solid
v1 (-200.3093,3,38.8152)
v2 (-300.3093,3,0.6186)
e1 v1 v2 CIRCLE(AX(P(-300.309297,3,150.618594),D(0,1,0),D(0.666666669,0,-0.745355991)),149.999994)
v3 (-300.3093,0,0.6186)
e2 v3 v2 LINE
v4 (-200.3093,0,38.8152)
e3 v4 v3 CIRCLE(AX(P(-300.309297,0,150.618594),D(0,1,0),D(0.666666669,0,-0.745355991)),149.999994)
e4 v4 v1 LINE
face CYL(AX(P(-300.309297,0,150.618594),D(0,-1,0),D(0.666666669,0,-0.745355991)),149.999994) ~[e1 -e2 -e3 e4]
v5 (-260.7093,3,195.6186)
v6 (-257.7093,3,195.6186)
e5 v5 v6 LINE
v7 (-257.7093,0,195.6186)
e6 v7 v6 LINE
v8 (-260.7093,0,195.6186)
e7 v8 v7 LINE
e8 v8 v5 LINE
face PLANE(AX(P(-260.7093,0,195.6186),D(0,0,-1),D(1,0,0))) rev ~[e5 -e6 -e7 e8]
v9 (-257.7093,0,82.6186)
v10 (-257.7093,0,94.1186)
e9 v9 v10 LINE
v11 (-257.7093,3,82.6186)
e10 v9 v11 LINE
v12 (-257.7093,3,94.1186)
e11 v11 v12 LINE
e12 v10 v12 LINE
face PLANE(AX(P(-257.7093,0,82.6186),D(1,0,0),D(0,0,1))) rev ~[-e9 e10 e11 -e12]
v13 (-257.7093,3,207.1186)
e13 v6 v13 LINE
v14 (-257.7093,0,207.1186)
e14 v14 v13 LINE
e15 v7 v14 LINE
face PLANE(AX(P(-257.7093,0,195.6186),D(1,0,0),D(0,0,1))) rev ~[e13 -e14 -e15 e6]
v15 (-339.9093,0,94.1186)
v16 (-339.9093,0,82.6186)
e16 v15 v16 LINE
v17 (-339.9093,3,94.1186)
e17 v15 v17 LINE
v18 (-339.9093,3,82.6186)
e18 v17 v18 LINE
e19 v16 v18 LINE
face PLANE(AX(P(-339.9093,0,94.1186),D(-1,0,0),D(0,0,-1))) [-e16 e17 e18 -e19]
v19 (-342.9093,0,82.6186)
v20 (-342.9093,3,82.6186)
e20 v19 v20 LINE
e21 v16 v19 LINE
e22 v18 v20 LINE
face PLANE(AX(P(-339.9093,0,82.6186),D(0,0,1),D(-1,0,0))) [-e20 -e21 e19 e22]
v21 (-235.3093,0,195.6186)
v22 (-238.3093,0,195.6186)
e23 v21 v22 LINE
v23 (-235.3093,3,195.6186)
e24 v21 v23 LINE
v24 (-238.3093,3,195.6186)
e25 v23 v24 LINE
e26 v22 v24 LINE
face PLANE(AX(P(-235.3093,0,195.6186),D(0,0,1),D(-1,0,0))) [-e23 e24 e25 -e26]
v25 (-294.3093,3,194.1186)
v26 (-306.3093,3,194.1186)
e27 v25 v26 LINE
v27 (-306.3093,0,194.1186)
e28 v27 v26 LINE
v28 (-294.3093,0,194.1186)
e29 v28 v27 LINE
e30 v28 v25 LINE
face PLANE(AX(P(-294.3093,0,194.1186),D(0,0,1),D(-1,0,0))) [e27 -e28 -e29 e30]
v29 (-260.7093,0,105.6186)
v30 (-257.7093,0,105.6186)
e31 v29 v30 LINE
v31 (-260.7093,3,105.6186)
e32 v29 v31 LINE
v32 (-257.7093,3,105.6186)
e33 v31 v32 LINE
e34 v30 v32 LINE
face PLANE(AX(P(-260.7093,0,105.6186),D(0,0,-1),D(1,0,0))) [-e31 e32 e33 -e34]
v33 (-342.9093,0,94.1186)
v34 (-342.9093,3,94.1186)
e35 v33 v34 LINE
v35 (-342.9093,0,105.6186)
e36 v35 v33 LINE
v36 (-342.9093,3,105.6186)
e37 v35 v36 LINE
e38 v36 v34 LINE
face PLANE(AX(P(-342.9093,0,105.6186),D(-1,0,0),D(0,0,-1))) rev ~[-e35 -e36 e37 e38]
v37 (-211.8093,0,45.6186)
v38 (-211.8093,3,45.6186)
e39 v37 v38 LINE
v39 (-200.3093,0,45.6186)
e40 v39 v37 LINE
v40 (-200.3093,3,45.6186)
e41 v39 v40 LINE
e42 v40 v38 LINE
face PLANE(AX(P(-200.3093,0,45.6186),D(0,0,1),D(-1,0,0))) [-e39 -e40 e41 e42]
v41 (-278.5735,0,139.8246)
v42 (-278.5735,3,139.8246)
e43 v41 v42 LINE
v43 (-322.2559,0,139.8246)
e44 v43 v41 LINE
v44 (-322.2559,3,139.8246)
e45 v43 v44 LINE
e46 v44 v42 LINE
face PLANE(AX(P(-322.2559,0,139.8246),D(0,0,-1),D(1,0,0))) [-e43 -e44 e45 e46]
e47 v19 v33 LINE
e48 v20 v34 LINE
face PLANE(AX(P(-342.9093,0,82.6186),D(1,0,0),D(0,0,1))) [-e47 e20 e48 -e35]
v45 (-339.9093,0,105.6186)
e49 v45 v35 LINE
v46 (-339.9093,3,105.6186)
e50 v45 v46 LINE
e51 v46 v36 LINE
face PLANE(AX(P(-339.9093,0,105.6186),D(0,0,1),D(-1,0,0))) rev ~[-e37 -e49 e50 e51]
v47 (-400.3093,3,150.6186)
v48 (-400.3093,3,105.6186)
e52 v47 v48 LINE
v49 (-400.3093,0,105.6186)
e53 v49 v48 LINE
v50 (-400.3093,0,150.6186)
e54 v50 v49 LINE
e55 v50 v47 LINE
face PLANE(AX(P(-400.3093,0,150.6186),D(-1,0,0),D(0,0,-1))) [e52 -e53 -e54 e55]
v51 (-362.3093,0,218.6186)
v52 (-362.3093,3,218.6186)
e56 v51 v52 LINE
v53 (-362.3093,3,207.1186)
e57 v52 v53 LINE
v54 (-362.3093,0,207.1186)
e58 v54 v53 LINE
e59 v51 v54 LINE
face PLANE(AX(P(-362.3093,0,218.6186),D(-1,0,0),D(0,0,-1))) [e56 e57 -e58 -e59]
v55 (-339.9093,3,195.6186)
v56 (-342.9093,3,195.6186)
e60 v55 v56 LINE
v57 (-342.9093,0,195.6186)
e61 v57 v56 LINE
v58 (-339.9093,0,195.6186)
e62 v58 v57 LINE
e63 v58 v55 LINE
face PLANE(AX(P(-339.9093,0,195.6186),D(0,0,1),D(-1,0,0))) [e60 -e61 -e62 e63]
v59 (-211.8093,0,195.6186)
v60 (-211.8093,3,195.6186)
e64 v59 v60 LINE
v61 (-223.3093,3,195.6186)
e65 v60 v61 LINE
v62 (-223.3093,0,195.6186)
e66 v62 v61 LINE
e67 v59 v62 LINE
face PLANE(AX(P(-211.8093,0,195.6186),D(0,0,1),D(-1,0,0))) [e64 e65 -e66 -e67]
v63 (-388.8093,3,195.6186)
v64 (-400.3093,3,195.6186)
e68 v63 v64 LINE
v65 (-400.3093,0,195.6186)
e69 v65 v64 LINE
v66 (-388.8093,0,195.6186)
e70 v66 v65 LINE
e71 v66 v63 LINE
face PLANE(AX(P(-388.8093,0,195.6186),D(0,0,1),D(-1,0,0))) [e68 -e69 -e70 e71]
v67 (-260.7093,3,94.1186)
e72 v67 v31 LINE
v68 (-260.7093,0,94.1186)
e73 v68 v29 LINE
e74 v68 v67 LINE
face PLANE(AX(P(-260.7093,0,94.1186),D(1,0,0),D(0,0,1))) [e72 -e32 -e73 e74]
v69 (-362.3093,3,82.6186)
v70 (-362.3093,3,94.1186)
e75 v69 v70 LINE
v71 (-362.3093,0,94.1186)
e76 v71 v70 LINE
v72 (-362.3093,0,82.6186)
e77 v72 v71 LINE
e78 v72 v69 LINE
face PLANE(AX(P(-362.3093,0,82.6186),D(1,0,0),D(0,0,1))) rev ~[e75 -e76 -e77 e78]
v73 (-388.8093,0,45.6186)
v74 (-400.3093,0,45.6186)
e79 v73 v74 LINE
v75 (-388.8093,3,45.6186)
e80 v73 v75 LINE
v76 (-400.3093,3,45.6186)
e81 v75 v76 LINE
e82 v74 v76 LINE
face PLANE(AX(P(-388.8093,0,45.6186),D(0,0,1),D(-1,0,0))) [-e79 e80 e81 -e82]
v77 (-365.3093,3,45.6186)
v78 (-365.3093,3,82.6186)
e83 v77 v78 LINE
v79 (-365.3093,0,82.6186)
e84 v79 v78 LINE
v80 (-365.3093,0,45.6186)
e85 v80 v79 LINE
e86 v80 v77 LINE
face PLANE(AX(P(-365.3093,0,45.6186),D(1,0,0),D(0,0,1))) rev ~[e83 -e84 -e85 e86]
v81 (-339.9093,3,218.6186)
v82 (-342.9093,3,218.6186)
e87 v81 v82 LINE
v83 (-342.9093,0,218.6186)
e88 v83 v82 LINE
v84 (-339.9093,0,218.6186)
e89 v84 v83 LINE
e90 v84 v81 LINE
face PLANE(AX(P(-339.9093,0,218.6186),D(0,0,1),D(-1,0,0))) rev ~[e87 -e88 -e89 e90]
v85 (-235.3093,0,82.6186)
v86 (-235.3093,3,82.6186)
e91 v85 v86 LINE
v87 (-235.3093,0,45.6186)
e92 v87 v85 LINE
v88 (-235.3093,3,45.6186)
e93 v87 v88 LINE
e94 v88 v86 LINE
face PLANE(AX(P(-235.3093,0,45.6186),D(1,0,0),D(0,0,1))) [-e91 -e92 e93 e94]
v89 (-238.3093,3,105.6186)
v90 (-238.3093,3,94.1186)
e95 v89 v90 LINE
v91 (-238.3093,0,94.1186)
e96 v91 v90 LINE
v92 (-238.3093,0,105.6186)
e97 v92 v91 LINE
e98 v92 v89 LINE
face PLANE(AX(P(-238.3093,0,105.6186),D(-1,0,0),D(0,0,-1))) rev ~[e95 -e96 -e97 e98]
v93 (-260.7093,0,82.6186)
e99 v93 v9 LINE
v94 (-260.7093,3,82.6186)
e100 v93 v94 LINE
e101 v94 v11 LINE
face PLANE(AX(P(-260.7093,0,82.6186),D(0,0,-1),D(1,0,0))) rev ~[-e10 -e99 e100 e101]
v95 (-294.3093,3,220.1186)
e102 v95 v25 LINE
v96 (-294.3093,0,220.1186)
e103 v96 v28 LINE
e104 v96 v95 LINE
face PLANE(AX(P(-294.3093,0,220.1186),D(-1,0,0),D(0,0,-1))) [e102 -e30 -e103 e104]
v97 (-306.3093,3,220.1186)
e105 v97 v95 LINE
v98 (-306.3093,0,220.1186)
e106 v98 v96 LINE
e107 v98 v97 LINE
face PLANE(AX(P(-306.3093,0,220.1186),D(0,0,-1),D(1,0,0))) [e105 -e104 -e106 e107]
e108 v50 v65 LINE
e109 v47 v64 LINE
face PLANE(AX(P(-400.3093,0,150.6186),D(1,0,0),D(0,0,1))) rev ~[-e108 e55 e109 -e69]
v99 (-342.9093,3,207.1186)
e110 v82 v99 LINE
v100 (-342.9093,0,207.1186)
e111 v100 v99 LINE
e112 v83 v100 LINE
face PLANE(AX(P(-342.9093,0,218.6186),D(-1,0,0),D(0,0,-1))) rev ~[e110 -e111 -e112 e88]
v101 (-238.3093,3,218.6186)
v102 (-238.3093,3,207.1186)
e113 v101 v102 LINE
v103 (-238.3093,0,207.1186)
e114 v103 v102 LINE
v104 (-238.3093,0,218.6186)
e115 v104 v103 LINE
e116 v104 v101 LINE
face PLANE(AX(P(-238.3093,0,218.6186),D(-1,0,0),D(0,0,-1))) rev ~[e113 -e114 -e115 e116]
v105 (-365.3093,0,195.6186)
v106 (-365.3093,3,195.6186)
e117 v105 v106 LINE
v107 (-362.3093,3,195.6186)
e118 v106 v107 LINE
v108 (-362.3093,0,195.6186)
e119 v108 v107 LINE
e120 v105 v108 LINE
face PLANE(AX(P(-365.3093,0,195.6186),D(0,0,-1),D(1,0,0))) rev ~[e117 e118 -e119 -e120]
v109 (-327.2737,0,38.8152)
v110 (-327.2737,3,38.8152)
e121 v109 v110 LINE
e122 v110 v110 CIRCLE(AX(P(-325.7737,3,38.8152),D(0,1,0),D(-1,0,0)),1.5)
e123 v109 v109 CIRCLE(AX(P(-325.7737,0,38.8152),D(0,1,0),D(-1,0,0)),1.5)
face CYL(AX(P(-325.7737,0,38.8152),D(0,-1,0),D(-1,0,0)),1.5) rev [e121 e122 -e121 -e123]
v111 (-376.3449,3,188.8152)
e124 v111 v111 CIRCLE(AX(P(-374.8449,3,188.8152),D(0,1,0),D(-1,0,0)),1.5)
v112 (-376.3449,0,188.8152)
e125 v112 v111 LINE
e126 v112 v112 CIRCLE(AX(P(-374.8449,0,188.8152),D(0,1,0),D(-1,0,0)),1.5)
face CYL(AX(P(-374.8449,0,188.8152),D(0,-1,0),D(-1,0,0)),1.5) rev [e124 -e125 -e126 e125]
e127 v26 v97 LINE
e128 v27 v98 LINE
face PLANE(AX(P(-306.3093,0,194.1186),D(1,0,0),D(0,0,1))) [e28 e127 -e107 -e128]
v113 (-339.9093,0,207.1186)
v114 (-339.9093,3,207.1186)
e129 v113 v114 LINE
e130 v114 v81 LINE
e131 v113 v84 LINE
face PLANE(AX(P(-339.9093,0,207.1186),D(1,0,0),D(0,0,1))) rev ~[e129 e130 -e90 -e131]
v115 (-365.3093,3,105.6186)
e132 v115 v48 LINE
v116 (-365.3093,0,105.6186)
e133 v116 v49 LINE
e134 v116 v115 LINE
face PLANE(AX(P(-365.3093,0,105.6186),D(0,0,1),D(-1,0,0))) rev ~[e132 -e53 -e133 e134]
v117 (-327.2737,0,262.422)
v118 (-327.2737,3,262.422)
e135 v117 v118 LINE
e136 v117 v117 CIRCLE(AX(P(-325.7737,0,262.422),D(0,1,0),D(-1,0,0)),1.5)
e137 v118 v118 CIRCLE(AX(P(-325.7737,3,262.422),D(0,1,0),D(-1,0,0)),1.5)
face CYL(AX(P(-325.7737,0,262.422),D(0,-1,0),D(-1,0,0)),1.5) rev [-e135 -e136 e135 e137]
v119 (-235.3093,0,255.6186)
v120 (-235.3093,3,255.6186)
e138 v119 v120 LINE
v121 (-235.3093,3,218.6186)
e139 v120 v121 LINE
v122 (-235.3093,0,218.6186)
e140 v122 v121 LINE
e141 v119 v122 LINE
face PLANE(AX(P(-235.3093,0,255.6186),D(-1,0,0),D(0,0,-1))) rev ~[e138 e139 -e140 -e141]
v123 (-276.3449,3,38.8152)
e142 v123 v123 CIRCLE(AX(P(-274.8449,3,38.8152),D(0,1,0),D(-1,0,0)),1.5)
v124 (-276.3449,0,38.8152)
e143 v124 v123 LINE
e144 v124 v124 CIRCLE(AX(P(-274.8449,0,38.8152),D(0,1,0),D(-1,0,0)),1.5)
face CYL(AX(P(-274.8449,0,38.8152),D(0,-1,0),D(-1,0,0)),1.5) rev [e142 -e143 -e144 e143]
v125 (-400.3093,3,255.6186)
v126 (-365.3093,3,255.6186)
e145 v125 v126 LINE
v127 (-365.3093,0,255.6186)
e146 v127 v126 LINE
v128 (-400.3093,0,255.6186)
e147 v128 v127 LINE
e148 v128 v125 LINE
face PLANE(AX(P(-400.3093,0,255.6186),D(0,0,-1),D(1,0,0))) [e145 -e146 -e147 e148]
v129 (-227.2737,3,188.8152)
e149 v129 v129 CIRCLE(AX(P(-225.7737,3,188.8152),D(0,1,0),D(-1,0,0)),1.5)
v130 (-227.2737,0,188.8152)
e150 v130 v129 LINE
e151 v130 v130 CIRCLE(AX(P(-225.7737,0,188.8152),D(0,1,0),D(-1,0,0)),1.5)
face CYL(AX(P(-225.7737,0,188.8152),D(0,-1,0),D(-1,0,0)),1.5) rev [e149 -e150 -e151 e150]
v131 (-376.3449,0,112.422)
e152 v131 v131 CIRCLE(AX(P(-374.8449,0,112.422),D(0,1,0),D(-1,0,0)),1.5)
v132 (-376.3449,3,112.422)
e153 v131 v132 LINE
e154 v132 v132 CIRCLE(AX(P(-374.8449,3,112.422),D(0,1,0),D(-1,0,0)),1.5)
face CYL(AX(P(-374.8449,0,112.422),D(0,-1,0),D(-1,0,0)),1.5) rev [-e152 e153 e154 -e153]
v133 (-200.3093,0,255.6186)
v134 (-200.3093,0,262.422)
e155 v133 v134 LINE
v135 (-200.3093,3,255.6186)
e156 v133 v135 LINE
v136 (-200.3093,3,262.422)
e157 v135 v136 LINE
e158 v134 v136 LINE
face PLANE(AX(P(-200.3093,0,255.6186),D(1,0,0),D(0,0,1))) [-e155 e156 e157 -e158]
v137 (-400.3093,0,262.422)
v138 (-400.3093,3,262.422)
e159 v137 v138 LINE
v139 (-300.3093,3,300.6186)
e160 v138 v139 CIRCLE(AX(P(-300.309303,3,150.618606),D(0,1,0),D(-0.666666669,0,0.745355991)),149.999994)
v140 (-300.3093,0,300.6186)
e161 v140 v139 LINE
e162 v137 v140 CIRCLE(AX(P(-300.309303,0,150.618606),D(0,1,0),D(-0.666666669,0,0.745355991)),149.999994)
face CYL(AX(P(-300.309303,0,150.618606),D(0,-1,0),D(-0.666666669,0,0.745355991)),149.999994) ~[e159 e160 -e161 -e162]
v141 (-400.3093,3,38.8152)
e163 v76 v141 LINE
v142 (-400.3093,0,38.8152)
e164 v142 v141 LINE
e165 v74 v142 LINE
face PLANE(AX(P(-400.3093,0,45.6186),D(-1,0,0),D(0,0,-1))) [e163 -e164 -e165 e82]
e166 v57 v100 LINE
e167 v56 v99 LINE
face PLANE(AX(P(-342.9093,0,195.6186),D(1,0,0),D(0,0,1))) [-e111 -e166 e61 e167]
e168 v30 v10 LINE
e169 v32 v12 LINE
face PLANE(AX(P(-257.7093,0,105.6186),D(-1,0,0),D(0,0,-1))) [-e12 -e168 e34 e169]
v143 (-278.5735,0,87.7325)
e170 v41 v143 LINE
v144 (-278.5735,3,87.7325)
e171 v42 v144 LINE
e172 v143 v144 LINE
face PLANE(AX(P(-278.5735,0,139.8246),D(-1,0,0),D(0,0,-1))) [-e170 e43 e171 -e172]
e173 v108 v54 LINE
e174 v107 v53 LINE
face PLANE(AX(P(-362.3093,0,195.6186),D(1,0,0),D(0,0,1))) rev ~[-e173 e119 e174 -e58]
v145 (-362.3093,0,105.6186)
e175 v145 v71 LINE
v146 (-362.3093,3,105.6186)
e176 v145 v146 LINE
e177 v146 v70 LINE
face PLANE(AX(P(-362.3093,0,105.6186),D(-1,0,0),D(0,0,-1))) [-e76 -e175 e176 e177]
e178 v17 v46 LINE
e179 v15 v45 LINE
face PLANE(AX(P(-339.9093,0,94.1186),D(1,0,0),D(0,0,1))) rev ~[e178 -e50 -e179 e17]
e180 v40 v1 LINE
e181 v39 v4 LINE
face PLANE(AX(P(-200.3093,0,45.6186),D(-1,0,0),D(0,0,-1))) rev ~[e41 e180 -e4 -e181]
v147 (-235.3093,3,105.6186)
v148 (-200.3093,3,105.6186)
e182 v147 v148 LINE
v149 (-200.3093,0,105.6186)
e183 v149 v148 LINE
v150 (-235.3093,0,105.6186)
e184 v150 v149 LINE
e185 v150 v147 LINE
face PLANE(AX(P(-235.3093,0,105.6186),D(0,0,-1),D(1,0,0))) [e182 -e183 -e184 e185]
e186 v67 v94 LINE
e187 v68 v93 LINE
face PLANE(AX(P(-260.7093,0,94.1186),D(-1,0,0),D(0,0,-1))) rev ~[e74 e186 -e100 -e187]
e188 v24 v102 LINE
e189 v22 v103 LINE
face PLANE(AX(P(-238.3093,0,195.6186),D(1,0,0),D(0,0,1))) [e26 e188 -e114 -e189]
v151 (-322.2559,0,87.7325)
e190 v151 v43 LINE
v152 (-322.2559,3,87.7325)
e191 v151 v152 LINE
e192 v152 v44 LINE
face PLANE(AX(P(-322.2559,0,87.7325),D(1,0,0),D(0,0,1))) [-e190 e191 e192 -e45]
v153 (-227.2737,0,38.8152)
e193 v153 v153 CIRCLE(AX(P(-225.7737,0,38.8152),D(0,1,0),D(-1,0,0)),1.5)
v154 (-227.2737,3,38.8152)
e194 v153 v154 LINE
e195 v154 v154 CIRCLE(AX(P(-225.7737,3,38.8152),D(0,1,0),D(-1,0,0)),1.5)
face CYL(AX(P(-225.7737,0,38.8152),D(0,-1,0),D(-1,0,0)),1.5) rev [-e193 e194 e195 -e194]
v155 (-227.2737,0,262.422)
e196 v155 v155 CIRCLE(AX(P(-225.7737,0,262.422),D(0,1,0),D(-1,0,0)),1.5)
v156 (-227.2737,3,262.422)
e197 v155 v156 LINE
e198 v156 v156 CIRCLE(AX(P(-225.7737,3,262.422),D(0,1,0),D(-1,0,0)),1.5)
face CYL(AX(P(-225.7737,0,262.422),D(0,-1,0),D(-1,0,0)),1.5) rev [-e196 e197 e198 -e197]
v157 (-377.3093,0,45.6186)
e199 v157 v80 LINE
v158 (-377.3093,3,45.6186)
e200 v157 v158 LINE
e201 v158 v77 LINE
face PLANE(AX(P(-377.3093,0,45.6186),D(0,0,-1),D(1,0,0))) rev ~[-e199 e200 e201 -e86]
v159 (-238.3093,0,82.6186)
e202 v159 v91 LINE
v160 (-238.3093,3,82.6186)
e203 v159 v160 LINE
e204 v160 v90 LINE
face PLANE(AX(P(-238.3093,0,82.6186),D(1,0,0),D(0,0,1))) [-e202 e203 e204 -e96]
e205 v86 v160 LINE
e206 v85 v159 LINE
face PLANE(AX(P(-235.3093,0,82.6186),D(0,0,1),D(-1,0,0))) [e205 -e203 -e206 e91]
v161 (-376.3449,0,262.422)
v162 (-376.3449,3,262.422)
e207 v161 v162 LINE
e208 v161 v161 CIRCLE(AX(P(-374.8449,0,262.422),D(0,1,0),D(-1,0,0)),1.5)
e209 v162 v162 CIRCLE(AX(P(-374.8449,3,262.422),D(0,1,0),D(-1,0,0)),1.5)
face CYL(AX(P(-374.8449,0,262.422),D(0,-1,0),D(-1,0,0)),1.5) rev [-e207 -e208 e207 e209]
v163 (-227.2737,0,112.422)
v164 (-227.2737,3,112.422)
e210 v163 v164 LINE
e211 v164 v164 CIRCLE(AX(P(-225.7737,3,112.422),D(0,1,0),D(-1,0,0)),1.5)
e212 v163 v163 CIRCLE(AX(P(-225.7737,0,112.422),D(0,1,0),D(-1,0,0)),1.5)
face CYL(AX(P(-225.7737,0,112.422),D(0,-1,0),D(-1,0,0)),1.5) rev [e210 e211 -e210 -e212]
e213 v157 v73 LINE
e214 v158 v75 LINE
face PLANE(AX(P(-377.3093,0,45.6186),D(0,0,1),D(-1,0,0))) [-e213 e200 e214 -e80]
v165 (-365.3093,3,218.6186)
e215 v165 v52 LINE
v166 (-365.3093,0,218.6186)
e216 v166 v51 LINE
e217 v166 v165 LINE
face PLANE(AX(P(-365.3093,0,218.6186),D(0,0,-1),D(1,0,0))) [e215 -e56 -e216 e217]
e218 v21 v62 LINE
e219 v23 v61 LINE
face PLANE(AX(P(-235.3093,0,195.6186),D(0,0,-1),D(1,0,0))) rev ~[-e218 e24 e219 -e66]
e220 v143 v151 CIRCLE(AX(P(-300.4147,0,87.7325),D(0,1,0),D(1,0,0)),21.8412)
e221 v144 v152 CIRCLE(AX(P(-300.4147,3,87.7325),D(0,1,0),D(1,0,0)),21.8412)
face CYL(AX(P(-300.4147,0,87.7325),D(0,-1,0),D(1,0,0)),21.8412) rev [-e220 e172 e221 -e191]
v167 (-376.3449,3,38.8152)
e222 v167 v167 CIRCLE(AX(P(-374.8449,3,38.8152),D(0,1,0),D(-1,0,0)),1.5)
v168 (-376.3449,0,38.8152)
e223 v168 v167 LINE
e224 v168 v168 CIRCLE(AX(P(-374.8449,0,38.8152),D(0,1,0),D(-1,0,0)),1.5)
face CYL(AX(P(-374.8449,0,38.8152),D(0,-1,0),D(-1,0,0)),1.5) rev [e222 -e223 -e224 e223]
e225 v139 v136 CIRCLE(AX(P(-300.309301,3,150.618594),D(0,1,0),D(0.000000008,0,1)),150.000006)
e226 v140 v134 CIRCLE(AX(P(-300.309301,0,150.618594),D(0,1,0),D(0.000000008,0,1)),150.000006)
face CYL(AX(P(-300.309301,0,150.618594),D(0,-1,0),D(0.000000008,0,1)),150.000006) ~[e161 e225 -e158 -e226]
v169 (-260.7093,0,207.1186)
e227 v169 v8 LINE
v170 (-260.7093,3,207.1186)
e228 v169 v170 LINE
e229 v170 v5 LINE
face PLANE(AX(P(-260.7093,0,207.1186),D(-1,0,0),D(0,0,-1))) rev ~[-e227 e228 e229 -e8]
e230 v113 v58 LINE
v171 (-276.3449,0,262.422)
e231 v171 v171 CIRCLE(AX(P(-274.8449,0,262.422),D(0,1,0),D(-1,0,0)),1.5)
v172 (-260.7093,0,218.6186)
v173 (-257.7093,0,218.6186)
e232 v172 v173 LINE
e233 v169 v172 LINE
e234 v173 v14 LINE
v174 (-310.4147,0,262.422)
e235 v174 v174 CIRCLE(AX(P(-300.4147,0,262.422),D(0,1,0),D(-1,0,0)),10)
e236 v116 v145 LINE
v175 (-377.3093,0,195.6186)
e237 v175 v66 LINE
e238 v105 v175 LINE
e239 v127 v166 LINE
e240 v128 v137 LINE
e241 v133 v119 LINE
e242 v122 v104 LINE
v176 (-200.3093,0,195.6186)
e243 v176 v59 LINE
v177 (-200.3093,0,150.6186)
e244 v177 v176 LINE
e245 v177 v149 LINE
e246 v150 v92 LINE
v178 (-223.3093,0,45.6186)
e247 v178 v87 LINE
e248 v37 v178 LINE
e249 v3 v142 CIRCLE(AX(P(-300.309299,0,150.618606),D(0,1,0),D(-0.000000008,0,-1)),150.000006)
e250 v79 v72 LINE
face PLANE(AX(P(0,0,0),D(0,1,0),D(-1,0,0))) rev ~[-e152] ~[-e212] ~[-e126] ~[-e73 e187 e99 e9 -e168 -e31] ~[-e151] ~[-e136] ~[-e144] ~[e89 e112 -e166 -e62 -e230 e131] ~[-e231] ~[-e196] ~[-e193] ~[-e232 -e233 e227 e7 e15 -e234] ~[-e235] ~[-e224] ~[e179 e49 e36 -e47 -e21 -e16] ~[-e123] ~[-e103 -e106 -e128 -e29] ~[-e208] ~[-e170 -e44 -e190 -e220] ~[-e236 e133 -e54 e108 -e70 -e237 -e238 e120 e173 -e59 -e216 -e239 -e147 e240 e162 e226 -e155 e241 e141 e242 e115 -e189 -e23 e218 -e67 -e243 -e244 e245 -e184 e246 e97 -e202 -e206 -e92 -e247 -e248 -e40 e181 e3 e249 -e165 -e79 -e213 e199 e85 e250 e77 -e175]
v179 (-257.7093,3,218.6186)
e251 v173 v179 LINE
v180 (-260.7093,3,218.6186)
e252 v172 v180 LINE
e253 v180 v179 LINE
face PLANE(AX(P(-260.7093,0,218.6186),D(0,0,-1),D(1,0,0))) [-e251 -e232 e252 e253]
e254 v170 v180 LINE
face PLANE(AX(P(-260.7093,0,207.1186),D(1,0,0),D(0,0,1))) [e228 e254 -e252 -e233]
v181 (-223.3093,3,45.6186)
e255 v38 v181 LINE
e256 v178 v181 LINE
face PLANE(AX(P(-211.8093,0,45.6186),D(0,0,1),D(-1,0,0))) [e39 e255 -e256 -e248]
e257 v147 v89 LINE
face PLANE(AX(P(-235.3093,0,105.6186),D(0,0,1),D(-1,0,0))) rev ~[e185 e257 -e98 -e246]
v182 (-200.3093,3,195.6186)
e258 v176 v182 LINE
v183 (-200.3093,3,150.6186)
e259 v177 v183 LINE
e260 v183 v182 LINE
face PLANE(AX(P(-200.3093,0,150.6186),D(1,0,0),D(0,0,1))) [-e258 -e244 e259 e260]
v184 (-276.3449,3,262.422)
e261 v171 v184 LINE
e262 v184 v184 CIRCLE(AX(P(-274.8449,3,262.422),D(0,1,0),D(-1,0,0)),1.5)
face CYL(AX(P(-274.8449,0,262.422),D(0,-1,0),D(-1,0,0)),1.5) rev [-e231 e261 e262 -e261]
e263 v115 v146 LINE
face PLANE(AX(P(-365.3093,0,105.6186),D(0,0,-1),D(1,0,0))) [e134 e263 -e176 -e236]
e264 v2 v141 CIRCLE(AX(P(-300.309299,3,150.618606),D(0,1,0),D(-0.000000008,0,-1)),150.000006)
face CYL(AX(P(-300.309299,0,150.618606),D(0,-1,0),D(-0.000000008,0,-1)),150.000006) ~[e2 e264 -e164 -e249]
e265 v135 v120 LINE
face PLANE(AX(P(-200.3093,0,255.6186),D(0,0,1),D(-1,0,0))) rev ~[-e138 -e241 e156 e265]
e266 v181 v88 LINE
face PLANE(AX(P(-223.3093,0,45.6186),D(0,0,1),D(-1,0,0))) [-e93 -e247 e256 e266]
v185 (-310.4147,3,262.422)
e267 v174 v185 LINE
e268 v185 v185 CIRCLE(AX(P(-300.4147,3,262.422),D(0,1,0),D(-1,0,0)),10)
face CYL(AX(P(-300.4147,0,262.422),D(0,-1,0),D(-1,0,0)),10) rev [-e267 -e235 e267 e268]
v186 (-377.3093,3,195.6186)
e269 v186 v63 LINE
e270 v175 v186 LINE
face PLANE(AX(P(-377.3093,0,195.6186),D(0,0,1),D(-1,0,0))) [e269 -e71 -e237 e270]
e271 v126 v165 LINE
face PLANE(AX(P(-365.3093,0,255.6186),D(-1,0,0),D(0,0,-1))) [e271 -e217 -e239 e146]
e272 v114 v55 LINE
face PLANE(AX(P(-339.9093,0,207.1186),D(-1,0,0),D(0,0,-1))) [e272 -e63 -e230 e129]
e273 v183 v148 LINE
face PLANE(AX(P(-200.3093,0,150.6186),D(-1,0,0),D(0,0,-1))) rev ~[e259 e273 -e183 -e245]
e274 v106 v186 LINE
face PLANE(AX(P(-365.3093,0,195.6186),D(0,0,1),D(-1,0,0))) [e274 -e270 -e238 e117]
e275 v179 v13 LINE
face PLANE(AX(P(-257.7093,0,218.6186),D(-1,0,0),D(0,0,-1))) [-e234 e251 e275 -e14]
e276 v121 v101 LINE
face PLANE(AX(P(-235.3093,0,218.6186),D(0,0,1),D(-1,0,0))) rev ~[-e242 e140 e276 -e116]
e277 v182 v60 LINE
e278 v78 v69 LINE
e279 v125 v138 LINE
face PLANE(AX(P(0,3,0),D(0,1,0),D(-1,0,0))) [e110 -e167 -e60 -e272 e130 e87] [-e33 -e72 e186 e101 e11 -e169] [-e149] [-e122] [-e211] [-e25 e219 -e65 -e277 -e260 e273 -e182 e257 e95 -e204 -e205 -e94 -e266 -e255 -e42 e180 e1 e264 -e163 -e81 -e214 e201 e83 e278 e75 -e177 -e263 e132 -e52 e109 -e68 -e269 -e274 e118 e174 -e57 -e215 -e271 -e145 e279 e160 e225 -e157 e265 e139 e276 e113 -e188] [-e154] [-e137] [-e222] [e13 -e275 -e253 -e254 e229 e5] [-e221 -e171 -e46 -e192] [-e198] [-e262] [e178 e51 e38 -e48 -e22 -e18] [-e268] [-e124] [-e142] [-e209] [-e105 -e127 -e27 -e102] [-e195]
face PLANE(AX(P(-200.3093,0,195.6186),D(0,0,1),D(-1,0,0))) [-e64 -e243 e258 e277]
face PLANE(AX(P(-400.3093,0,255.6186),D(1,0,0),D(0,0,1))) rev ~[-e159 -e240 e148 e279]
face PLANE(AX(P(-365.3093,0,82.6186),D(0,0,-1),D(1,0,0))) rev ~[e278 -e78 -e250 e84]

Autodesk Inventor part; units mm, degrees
ref_plane "YZ Plane" through (0, 0, 0) normal (1, 0, 0) x (0, 1, 0)
ref_plane "XZ Plane" through (0, 0, 0) normal (0, 1, 0) x (-1, 0, 0)
ref_plane "XY Plane" through (0, 0, 0) normal (0, 0, 1) x (1, 0, 0)
sketch "Sketch1" plane through (0, 0, 0) normal (0, 1, 0) x (-1, 0, 0)
  circle A0 centre (225.7737, 188.8152) radius 1.5
  circle A1 centre (325.7737, 262.422) radius 1.5
  circle A2 centre (374.8449, 262.422) radius 1.5
  circle A3 centre (374.8449, 188.8152) radius 1.5
  circle A4 centre (274.8449, 38.8152) radius 1.5
  circle A5 centre (225.7737, 38.8152) radius 1.5
  circle A6 centre (225.7737, 112.422) radius 1.5
  circle A7 centre (325.7737, 38.8152) radius 1.5
  circle A8 centre (374.8449, 38.8152) radius 1.5
  circle A9 centre (374.8449, 112.422) radius 1.5
  line L0 (200.3093, 45.6186) -> (211.8093, 45.6186)
  line L1 (211.8093, 45.6186) -> (223.3093, 45.6186)
  line L2 (377.3093, 45.6186) -> (388.8093, 45.6186)
  line L3 (388.8093, 45.6186) -> (400.3093, 45.6186)
  line L4 (200.3093, 195.6186) -> (211.8093, 195.6186)
  line L5 (211.8093, 195.6186) -> (223.3093, 195.6186)
  line L6 (377.3093, 195.6186) -> (388.8093, 195.6186)
  line L7 (388.8093, 195.6186) -> (400.3093, 195.6186)
  line L8 (294.3093, 194.1186) -> (306.3093, 194.1186)
  line L9 (306.3093, 194.1186) -> (306.3093, 220.1186)
  line L10 (306.3093, 220.1186) -> (294.3093, 220.1186)
  line L11 (294.3093, 220.1186) -> (294.3093, 194.1186)
  arc A10 (278.5735, 87.7325) -> (322.2559, 87.7325) centre (300.4147, 87.7325) ccw
  circle A11 centre (300.4147, 262.422) radius 10
  line L12 (322.2559, 87.7325) -> (322.2559, 139.8246)
  line L13 (322.2559, 139.8246) -> (278.5735, 139.8246)
  line L14 (278.5735, 139.8246) -> (278.5735, 87.7325)
  circle A12 centre (274.8449, 262.422) radius 1.5
  circle A13 centre (225.7737, 262.422) radius 1.5
  line L15 (238.3093, 105.6186) -> (238.3093, 94.1186)
  line L16 (235.3093, 82.6186) -> (238.3093, 82.6186)
  line L17 (238.3093, 82.6186) -> (238.3093, 94.1186)
  line L18 (362.3093, 105.6186) -> (362.3093, 94.1186)
  line L19 (365.3093, 82.6186) -> (362.3093, 82.6186)
  line L20 (362.3093, 82.6186) -> (362.3093, 94.1186)
  line L21 (235.3093, 195.6186) -> (238.3093, 195.6186)
  line L22 (238.3093, 195.6186) -> (238.3093, 207.1186)
  line L23 (235.3093, 218.6186) -> (238.3093, 218.6186)
  line L24 (238.3093, 218.6186) -> (238.3093, 207.1186)
  line L25 (365.3093, 195.6186) -> (362.3093, 195.6186)
  line L26 (362.3093, 195.6186) -> (362.3093, 207.1186)
  line L27 (365.3093, 218.6186) -> (362.3093, 218.6186)
  line L28 (362.3093, 218.6186) -> (362.3093, 207.1186)
  line L29 (365.3093, 105.6186) -> (362.3093, 105.6186)
  arc A14 (300.3093, 0.6186) -> (400.3093, 38.8152) centre (300.3093, 150.6186) ccw
  arc A15 (200.3093, 38.8152) -> (300.3093, 0.6186) centre (300.3093, 150.6186) ccw
  line L30 (235.3093, 105.6186) -> (200.3093, 105.6186)
  line L31 (200.3093, 45.6186) -> (235.3093, 45.6186)
  line L32 (235.3093, 45.6186) -> (235.3093, 82.6186)
  arc A16 (300.3093, 300.6186) -> (200.3093, 262.422) centre (300.3093, 150.6186) ccw
  line L33 (235.3093, 195.6186) -> (200.3093, 195.6186)
  line L34 (200.3093, 255.6186) -> (235.3093, 255.6186)
  line L35 (235.3093, 255.6186) -> (235.3093, 218.6186)
  line L36 (365.3093, 105.6186) -> (400.3093, 105.6186)
  line L37 (400.3093, 45.6186) -> (365.3093, 45.6186)
  line L38 (365.3093, 45.6186) -> (365.3093, 82.6186)
  arc A17 (400.3093, 262.422) -> (300.3093, 300.6186) centre (300.3093, 150.6186) ccw
  line L39 (365.3093, 195.6186) -> (400.3093, 195.6186)
  line L40 (400.3093, 255.6186) -> (365.3093, 255.6186)
  line L41 (365.3093, 255.6186) -> (365.3093, 218.6186)
  line L42 (235.3093, 105.6186) -> (238.3093, 105.6186)
  line L43 (339.9093, 94.1186) -> (339.9093, 105.6186)
  line L44 (339.9093, 105.6186) -> (342.9093, 105.6186)
  line L45 (342.9093, 105.6186) -> (342.9093, 94.1186)
  line L46 (339.9093, 94.1186) -> (339.9093, 82.6186)
  line L47 (339.9093, 82.6186) -> (342.9093, 82.6186)
  line L48 (342.9093, 82.6186) -> (342.9093, 94.1186)
  line L49 (339.9093, 207.1186) -> (339.9093, 195.6186)
  line L50 (339.9093, 195.6186) -> (342.9093, 195.6186)
  line L51 (342.9093, 195.6186) -> (342.9093, 207.1186)
  line L52 (339.9093, 207.1186) -> (339.9093, 218.6186)
  line L53 (339.9093, 218.6186) -> (342.9093, 218.6186)
  line L54 (342.9093, 218.6186) -> (342.9093, 207.1186)
  line L55 (260.7093, 94.1186) -> (260.7093, 105.6186)
  line L56 (260.7093, 105.6186) -> (257.7093, 105.6186)
  line L57 (257.7093, 105.6186) -> (257.7093, 94.1186)
  line L58 (260.7093, 94.1186) -> (260.7093, 82.6186)
  line L59 (260.7093, 82.6186) -> (257.7093, 82.6186)
  line L60 (257.7093, 82.6186) -> (257.7093, 94.1186)
  line L61 (260.7093, 207.1186) -> (260.7093, 195.6186)
  line L62 (260.7093, 195.6186) -> (257.7093, 195.6186)
  line L63 (257.7093, 195.6186) -> (257.7093, 207.1186)
  line L64 (260.7093, 207.1186) -> (260.7093, 218.6186)
  line L65 (260.7093, 218.6186) -> (257.7093, 218.6186)
  line L66 (257.7093, 218.6186) -> (257.7093, 207.1186)
  line L67 (400.3093, 150.6186) -> (400.3093, 105.6186)
  line L68 (400.3093, 45.6186) -> (400.3093, 38.8152)
  line L69 (211.8093, 0.6186) -> (223.3093, 0.6186)
  line L70 (400.3093, 0.6186) -> (362.3093, 0.6186)
  line L71 (400.3093, 150.6186) -> (400.3093, 195.6186)
  line L72 (400.3093, 255.6186) -> (400.3093, 262.422)
  line L73 (200.3093, 150.6186) -> (200.3093, 195.6186)
  line L74 (200.3093, 150.6186) -> (200.3093, 195.6186)
  line L75 (200.3093, 255.6186) -> (200.3093, 262.422)
  line L76 (200.3093, 255.6186) -> (200.3093, 262.422)
  line L77 (200.3093, 150.6186) -> (200.3093, 105.6186)
  line L78 (200.3093, 45.6186) -> (200.3093, 38.8152)
  line L79 (200.3093, 150.6186) -> (200.3093, 105.6186)
  line L80 (200.3093, 45.6186) -> (200.3093, 38.8152)
extrude "Extrusion1" add sketch "Sketch1" along normal blind 3
properties part number "ChasisSuperior"
